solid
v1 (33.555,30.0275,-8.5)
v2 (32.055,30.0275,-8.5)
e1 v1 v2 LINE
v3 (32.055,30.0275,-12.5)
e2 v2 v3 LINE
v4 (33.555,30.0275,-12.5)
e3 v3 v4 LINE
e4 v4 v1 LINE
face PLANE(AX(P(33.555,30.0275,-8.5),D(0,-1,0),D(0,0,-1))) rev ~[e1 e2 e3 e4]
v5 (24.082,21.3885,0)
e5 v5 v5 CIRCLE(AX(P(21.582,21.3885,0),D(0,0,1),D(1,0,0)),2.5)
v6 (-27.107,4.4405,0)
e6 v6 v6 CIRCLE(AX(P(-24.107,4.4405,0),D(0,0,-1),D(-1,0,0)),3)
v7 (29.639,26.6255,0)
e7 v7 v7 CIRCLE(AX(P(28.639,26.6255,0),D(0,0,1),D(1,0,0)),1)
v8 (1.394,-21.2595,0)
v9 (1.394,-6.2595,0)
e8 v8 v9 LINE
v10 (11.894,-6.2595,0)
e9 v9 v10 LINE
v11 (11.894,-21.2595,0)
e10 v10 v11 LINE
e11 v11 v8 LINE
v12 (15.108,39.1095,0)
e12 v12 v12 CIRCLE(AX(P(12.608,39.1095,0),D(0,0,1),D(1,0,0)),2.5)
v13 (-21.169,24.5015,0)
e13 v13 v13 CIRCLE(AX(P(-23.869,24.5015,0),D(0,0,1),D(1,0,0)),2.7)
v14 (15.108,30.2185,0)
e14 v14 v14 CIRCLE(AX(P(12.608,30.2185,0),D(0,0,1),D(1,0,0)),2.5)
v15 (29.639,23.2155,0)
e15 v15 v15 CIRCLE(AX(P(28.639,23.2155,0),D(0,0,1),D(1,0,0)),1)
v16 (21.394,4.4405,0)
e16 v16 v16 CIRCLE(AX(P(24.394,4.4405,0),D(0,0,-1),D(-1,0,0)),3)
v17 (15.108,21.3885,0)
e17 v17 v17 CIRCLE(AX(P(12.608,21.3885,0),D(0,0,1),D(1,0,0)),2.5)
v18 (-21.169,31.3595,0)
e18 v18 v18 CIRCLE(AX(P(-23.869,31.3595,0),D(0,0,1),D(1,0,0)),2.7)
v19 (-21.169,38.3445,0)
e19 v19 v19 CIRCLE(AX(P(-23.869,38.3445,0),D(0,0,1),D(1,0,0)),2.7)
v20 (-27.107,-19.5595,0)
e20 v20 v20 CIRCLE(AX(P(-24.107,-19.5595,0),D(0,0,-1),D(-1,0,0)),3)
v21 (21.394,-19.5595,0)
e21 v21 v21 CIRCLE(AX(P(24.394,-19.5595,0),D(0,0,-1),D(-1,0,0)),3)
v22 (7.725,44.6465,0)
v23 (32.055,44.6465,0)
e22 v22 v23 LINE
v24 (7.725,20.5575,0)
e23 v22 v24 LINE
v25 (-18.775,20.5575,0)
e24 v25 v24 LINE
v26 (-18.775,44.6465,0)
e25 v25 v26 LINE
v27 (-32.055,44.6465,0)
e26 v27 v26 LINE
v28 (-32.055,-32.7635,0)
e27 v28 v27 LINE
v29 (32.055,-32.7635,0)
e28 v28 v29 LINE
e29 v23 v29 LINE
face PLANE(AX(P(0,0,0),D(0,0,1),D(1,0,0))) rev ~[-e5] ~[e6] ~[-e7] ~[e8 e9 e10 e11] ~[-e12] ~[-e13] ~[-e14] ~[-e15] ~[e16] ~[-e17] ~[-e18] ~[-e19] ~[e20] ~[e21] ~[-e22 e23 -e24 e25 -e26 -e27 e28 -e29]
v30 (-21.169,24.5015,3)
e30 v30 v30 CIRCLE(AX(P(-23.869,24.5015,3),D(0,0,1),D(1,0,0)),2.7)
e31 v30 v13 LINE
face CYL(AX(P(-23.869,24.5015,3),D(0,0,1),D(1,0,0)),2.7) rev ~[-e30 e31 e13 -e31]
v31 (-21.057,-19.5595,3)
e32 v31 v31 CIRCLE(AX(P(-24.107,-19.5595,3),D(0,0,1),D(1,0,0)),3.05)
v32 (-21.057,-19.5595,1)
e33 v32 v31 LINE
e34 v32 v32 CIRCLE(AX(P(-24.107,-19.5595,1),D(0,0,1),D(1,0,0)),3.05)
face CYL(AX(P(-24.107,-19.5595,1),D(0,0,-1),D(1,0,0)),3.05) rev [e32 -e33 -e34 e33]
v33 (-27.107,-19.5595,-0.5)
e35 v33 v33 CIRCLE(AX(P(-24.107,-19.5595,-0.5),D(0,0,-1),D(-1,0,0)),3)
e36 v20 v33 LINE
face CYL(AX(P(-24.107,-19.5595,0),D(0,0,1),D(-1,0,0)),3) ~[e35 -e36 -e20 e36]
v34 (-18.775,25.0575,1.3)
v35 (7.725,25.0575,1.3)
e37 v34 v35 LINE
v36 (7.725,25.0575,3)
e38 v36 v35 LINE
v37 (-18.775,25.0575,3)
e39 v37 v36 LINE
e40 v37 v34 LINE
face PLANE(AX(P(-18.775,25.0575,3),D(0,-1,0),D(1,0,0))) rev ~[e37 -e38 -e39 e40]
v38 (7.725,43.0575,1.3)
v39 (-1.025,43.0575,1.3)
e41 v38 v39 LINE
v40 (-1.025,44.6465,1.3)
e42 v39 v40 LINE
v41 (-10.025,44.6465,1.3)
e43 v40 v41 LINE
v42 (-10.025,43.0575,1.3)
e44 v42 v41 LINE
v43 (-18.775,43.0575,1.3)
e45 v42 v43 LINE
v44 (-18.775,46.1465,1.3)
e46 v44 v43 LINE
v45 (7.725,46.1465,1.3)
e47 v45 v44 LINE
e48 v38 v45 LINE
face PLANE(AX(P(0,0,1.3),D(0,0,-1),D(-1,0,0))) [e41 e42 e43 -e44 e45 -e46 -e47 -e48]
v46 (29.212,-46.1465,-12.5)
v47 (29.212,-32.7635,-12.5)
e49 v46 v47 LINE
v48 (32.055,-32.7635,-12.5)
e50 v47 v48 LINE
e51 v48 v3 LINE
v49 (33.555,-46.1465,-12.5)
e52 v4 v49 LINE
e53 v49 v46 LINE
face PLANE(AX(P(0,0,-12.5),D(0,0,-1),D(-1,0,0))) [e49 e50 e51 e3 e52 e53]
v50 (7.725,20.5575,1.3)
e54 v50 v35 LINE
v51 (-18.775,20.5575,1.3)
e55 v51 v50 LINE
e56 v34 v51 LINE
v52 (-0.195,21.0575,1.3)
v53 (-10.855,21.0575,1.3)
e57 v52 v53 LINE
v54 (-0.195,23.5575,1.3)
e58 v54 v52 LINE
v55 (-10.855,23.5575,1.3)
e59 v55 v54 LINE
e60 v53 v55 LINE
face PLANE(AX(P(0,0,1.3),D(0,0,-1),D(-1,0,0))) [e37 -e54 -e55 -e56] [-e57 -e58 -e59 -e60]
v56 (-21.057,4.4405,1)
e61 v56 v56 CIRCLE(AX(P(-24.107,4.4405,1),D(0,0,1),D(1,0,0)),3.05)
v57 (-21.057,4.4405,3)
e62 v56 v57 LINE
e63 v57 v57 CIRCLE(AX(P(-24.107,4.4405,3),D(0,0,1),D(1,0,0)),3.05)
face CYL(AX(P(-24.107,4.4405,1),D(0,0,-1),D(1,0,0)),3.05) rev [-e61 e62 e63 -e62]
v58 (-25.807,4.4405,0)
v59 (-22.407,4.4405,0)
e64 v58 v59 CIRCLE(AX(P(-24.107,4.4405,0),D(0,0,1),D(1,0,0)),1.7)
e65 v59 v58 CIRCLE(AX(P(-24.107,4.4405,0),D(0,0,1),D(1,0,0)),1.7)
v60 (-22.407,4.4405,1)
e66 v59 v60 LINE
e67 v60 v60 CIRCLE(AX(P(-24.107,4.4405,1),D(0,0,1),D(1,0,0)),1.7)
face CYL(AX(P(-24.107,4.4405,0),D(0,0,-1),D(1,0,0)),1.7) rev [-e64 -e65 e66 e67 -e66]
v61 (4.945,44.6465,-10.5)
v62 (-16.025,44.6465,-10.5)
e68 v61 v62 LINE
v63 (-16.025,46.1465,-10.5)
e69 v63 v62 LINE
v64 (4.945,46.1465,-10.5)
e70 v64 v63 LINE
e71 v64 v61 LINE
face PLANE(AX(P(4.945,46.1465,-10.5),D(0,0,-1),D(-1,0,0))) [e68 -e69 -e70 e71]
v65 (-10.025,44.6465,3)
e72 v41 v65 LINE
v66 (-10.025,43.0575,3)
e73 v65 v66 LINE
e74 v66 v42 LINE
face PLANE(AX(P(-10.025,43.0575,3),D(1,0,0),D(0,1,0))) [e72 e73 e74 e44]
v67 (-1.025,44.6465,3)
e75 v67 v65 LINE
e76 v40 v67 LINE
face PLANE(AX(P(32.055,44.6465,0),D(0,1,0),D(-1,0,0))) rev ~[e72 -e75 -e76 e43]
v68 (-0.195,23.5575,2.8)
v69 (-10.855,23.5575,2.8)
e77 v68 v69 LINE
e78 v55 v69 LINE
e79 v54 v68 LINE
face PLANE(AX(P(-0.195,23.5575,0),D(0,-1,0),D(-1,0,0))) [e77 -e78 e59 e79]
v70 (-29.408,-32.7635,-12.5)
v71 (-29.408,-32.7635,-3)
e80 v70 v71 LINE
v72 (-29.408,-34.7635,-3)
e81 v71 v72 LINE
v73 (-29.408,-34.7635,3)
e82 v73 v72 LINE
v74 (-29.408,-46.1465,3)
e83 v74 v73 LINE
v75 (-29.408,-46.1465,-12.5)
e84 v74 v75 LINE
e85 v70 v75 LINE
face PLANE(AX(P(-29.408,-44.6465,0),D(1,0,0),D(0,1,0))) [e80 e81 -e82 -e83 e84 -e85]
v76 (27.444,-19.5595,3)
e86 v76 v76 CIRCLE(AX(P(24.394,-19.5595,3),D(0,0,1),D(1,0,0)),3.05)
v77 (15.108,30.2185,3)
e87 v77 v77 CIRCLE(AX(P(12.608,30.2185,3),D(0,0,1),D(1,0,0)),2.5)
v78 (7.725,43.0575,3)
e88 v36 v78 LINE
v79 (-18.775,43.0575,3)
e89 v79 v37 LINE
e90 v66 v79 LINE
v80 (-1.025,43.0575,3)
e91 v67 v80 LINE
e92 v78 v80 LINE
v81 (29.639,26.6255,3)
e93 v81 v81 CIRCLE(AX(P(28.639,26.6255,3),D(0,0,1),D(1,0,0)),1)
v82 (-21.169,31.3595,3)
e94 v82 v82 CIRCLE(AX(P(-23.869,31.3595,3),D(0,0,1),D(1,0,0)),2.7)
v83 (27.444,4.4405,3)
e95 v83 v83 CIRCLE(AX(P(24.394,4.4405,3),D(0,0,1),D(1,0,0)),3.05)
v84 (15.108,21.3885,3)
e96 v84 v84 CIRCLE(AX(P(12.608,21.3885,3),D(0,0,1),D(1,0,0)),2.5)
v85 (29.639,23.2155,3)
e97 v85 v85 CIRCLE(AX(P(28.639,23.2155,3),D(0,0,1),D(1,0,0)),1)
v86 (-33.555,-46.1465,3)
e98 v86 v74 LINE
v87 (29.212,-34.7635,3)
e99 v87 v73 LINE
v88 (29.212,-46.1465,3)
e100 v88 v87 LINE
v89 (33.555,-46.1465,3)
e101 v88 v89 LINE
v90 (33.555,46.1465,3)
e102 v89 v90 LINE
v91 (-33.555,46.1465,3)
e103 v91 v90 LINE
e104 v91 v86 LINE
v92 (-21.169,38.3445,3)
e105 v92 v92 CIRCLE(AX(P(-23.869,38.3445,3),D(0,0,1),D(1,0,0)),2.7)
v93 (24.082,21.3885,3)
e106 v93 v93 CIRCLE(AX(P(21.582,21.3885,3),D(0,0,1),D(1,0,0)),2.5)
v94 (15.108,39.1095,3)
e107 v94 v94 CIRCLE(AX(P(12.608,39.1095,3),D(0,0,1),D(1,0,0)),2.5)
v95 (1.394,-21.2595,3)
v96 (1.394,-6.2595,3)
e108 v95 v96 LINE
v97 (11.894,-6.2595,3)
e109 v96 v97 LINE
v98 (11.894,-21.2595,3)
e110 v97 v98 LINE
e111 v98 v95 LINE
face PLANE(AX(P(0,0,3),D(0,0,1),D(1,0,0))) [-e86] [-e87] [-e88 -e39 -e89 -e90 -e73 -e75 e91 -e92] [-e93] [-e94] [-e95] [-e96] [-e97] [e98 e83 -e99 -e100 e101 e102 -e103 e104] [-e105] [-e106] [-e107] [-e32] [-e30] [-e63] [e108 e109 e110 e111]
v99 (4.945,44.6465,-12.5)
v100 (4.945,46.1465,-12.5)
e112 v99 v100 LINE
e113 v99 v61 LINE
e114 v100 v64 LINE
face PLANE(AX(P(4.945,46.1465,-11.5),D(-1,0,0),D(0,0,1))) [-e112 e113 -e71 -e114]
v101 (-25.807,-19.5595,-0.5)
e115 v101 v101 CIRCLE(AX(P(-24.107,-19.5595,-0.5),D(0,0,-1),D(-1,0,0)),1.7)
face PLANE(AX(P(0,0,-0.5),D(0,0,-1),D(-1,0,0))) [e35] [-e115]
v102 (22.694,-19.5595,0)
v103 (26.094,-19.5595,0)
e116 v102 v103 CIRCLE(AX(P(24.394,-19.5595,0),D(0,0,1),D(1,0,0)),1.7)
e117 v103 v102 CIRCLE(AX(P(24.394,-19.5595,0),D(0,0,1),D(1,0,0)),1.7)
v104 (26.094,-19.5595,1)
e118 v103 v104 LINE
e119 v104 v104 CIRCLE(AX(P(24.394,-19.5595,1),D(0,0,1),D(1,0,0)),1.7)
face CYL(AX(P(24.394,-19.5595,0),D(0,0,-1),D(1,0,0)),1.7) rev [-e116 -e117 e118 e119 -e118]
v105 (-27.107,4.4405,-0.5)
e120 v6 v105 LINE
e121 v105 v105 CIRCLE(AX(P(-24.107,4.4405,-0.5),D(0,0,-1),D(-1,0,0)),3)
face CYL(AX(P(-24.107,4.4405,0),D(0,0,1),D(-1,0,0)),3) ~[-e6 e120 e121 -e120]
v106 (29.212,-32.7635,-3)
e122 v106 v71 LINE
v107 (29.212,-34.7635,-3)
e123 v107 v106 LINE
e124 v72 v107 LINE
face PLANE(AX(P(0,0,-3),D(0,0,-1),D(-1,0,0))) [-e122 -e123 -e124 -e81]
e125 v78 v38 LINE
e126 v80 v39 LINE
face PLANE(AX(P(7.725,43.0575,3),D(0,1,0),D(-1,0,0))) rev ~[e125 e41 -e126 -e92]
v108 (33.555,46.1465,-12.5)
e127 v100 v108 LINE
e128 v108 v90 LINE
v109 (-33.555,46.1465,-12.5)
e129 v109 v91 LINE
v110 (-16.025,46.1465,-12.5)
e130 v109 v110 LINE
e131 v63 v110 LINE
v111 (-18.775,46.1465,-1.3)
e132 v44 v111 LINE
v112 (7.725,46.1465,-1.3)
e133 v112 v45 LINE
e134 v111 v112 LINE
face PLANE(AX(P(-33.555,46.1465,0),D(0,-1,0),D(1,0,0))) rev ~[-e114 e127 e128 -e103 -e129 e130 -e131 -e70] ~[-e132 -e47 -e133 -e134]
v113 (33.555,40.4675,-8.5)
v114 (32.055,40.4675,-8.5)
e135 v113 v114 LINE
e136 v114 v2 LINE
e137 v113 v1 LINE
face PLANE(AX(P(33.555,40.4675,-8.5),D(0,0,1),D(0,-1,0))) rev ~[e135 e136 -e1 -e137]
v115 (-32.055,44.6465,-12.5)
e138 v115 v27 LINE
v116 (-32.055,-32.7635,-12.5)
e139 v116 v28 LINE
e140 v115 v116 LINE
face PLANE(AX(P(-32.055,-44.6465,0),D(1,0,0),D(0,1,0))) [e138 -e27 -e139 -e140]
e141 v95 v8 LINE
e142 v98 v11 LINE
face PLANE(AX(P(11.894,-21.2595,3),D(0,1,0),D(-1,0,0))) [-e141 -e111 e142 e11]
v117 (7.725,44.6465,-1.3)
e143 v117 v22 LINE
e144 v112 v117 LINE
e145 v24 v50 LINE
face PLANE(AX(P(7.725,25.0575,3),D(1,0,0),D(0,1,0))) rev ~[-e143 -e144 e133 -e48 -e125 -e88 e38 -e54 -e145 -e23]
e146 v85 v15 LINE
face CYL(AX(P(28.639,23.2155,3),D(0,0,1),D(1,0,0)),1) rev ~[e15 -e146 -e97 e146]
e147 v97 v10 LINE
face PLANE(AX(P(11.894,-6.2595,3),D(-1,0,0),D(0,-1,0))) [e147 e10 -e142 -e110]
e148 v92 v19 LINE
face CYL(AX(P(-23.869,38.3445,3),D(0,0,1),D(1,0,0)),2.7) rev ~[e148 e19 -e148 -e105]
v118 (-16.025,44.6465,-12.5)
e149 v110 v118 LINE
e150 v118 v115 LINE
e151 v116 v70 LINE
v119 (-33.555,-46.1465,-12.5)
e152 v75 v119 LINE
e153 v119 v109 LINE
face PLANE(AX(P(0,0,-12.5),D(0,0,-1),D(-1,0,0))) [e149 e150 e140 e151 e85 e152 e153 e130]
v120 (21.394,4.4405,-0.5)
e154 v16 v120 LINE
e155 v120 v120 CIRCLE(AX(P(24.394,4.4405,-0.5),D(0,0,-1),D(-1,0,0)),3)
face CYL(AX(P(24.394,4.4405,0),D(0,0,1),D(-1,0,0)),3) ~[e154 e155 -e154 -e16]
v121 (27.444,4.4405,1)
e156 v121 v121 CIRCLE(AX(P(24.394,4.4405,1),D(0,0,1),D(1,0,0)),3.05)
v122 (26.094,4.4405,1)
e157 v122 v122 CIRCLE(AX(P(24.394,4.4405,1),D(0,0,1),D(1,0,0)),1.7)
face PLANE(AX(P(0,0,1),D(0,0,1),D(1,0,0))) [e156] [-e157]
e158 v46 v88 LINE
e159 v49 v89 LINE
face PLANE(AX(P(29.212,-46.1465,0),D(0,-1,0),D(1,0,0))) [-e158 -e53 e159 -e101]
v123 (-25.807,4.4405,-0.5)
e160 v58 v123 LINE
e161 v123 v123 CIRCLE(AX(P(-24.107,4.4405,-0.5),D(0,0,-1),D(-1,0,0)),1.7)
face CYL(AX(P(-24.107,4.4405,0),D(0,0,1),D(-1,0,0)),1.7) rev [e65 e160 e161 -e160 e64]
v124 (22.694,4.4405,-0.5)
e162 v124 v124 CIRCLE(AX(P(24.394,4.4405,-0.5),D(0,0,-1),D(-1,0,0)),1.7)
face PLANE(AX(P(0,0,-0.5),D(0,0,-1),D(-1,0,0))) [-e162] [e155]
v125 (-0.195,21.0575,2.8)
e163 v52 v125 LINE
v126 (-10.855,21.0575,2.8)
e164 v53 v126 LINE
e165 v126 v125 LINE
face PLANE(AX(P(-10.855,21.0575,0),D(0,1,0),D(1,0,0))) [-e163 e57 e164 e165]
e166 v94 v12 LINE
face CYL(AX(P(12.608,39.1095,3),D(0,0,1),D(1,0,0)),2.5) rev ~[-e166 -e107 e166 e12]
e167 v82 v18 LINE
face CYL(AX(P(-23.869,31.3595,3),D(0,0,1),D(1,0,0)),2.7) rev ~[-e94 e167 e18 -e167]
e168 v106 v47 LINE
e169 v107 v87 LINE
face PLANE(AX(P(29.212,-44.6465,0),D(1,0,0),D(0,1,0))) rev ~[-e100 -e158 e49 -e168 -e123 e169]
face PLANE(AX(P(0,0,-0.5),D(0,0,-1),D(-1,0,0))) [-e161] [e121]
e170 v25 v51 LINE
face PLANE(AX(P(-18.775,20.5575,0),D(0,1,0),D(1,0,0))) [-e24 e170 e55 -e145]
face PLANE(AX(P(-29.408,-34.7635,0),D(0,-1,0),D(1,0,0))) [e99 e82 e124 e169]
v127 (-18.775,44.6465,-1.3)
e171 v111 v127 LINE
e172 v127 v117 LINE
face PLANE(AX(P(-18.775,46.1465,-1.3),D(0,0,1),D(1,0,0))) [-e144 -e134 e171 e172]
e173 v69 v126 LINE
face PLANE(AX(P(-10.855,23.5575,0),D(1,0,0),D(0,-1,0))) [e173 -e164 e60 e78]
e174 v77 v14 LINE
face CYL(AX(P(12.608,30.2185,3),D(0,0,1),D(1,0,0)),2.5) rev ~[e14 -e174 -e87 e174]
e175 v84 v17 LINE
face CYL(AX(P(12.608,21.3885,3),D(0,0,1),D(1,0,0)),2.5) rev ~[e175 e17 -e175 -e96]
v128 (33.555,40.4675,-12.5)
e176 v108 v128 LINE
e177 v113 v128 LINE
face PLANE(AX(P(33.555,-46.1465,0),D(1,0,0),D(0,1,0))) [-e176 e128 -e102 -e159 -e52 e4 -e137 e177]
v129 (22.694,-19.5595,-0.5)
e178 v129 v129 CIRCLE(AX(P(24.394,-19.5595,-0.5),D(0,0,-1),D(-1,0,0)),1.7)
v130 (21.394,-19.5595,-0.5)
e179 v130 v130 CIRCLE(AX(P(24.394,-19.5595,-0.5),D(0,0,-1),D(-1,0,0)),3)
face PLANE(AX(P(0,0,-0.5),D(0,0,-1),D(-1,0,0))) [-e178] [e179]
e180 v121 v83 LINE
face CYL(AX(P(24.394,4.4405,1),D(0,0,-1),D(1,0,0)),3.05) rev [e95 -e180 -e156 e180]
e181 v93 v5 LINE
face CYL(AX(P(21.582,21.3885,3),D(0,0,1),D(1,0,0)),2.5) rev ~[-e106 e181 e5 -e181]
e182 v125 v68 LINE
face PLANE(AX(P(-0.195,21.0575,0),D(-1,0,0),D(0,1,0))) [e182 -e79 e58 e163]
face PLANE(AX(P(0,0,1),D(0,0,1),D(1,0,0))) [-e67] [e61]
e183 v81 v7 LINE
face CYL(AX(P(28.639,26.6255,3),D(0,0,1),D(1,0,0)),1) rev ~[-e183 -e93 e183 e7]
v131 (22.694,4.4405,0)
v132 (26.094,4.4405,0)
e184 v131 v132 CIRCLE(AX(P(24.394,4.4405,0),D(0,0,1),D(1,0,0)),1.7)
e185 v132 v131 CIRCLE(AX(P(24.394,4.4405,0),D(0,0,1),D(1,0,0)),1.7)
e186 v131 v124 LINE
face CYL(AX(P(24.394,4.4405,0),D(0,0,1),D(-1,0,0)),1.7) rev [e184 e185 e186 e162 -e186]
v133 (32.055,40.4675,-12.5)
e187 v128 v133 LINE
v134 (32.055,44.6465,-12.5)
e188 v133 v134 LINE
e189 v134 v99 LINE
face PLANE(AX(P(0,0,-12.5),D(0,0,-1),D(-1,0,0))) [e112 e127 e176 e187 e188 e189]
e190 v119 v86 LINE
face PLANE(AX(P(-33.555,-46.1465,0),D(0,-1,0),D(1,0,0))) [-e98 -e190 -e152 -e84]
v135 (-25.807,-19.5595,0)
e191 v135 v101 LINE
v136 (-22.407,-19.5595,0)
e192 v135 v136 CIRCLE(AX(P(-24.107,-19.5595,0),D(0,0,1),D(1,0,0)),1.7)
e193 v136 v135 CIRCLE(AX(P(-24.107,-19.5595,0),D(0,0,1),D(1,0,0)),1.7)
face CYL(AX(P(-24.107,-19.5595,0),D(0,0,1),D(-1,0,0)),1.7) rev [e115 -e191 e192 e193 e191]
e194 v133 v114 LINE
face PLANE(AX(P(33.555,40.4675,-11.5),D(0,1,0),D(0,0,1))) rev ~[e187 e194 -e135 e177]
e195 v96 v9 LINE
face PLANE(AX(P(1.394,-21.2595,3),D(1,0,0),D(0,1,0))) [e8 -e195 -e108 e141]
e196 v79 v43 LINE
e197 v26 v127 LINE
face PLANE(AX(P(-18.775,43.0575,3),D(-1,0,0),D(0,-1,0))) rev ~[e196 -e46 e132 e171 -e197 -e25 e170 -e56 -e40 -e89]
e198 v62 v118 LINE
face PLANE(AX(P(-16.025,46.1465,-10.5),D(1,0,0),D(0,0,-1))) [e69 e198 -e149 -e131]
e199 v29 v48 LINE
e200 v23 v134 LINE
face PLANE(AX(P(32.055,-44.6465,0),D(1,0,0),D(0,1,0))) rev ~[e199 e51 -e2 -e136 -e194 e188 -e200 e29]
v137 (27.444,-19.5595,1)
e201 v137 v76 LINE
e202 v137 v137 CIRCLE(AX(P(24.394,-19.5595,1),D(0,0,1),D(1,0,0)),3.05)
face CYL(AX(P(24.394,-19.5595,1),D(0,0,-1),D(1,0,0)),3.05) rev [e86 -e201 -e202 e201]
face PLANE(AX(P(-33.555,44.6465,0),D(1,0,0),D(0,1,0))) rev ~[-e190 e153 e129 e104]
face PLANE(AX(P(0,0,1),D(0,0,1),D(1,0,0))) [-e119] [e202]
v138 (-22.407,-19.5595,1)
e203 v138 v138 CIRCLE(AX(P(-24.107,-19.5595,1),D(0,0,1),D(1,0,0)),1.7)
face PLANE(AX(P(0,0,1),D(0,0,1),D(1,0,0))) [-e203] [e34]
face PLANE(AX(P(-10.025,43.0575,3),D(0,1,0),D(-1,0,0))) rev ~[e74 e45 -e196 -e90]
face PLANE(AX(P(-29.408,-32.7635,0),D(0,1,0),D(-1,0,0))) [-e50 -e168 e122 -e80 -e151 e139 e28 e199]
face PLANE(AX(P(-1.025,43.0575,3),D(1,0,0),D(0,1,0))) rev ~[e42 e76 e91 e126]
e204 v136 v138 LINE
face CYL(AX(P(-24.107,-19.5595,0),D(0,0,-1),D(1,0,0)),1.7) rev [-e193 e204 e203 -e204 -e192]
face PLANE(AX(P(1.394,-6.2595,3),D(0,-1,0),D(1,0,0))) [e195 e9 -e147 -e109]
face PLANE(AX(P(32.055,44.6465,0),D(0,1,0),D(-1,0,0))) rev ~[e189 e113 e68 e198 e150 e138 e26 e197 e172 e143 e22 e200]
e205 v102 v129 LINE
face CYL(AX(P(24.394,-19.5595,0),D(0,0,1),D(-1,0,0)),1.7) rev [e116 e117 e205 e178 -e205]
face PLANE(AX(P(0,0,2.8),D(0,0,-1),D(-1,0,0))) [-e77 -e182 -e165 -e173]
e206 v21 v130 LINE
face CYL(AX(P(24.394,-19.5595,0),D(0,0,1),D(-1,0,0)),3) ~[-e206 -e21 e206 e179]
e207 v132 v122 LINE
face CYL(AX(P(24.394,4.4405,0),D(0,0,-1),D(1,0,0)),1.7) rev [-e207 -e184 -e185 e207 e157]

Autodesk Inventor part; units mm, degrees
ref_plane "YZ Plane" through (0, 0, 0) normal (1, 0, 0) x (0, 1, 0)
ref_plane "XZ Plane" through (0, 0, 0) normal (0, 1, 0) x (-1, 0, 0)
ref_plane "XY Plane" through (0, 0, 0) normal (0, 0, 1) x (1, 0, 0)
sketch "草图22" plane through (0, 0, 0) normal (0, 0, 1) x (1, 0, 0)
  line L0 (32.055, -44.6465) -> (-32.055, -44.6465)
  line L1 (-32.055, -44.6465) -> (-32.055, 44.6465)
  line L2 (-32.055, 44.6465) -> (32.055, 44.6465)
  line L3 (32.055, 44.6465) -> (32.055, -44.6465)
  line L4 (32.055, -44.6465) -> (-32.055, 44.6465) construction
  line L5 (-32.055, -44.6465) -> (32.055, 44.6465) construction
  line L6 (24.394, -19.5595) -> (-24.107, -19.5595) construction
  line L7 (-24.107, -19.5595) -> (-24.107, 4.4405) construction
  line L8 (-24.107, 4.4405) -> (24.394, 4.4405) construction
  line L9 (24.394, 4.4405) -> (24.394, -19.5595) construction
  line L10 (24.394, -19.5595) -> (-24.107, 4.4405) construction
  line L11 (-24.107, -19.5595) -> (24.394, 4.4405) construction
  circle A0 centre (-24.107, 4.4405) radius 1.7
  circle A1 centre (-24.107, -19.5595) radius 1.7
  circle A2 centre (24.394, -19.5595) radius 1.7
  circle A3 centre (24.394, 4.4405) radius 1.7
  point P0 (0, 0)
  point P1 (-14.525, 44.6465)
  point P2 (3.476, 44.6465)
  point P3 (0.1435, -7.5595)
  dimension "d101" = 89.293
  dimension "d102" = 64.11
  dimension "d103" = 7.661
  dimension "d104" = 7.948
  dimension "d105" = 25.087
  dimension "d106" = 40.206
  dimension "d107" = 17.53
  dimension "d108" = 28.579
  dimension "d109" = 3.4
  dimension "d110" = 3.4
  dimension "d111" = 3.4
  dimension "d112" = 3.4
extrude "拉伸18" add sketch "草图22" along normal blind 1
sketch "草图23" plane through (0, 0, 1) normal (0, 0, 1) x (1, 0, 0)
  circle A0 centre (-24.107, 4.4405) radius 1.7 projected
  circle A1 centre (24.394, 4.4405) radius 1.7 projected
  circle A2 centre (24.394, -19.5595) radius 1.7 projected
  circle A3 centre (-24.107, -19.5595) radius 1.7 projected
  line L0 (32.055, 44.6465) -> (-32.055, 44.6465) projected
  line L1 (-32.055, -44.6465) -> (32.055, -44.6465) projected
  line L2 (-32.055, 44.6465) -> (32.055, 44.6465)
  line L3 (32.055, 44.6465) -> (32.055, -44.6465)
  line L4 (32.055, -44.6465) -> (-32.055, -44.6465)
  line L5 (-32.055, -44.6465) -> (-32.055, 44.6465)
  circle A4 centre (24.394, 4.4405) radius 3.05
  circle A5 centre (24.394, -19.5595) radius 1.7 projected
  circle A6 centre (24.394, -19.5595) radius 3.05
  circle A7 centre (-24.107, -19.5595) radius 3.05
  circle A8 centre (-24.107, 4.4405) radius 3.05
  point P0 (0, 0)
  dimension "d164" = 6.1
extrude "拉伸19" add sketch "草图23" along normal blind 2 contours L3 L1 L5 L0
sketch "草图25" plane through (0, 0, 3) normal (0, 0, 1) x (1, 0, 0)
  circle A0 centre (-23.869, 38.3445) radius 2.7
  circle A1 centre (-23.869, 31.3595) radius 2.7
  circle A2 centre (-23.869, 24.5015) radius 2.7
  line L0 (32.055, 44.6465) -> (-32.055, 44.6465) projected
  line L1 (-32.055, 44.6465) -> (-32.055, -44.6465) projected
  circle A3 centre (12.608, 39.1095) radius 2.5
  line L2 (32.055, -44.6465) -> (32.055, 44.6465) projected
  circle A4 centre (12.608, 30.2185) radius 2.5
  circle A5 centre (12.608, 21.3885) radius 2.5
  circle A6 centre (21.582, 21.3885) radius 2.5
  circle A7 centre (28.639, 26.6255) radius 1
  circle A8 centre (28.639, 23.2155) radius 1
  line L3 (7.225, 20.5575) -> (-18.275, 20.5575) construction
  line L4 (-18.275, 20.5575) -> (-18.275, 47.0575) construction
  line L5 (-18.275, 47.0575) -> (7.225, 47.0575) construction
  line L6 (7.225, 47.0575) -> (7.225, 20.5575) construction
  line L7 (-18.775, 25.0575) -> (7.725, 25.0575)
  line L8 (7.725, 25.0575) -> (7.725, 43.0575)
  line L9 (-18.775, 43.0575) -> (-18.775, 25.0575)
  line L10 (-10.025, 43.0575) -> (-10.025, 47.0575)
  line L11 (-10.025, 47.0575) -> (-5.525, 47.0575)
  line L12 (-1.025, 43.0575) -> (-1.025, 47.0575)
  line L13 (-1.025, 47.0575) -> (-5.525, 47.0575)
  line L14 (7.725, 43.0575) -> (-1.025, 43.0575)
  line L15 (-10.025, 43.0575) -> (-18.775, 43.0575)
  point P0 (0, 0)
  point P1 (-5.525, 21.0575)
  point P2 (-5.525, 20.5575)
  dimension "d123" = 5.4
  dimension "d124" = 5.4
  dimension "d125" = 5.4
  dimension "d126" = 6.302
  dimension "d127" = 8.186
  dimension "d128" = 8.186
  dimension "d129" = 8.186
  dimension "d130" = 13.287
  dimension "d131" = 20.145
  dimension "d132" = 5.537
  dimension "d133" = 19.447
  dimension "d134" = 5
  dimension "d135" = 5
  dimension "d136" = 14.428
  dimension "d137" = 19.447
  dimension "d138" = 5
  dimension "d139" = 19.447
  dimension "d140" = 23.258
  dimension "d141" = 5
  dimension "d142" = 23.258
  dimension "d143" = 10.473
  dimension "d144" = 2
  dimension "d145" = 2
  dimension "d146" = 3.416
  dimension "d147" = 3.416
  dimension "d148" = 18.021
  dimension "d149" = 3.41
  dimension "d150" = 26.53
  dimension "d151" = 23.589
  dimension "d152" = 0.5
  dimension "d153" = 26.53
  dimension "d154" = 26.5
  dimension "d155" = 25.5
  dimension "d156" = 4.5
  dimension "d158" = 0.5
  dimension "d159" = 0.5
extrude "拉伸21" cut sketch "草图25" against normal up to next
sketch "草图26" plane through (0, 0, 3) normal (0, 0, 1) x (1, 0, 0)
  circle A0 centre (-24.107, 4.4405) radius 1.7 projected
  circle A1 centre (-24.107, -19.5595) radius 1.7 projected
  circle A2 centre (24.394, 4.4405) radius 1.7 projected
  circle A3 centre (24.394, -19.5595) radius 1.7 projected
  line L0 (1.394, -6.2595) -> (11.894, -6.2595)
  line L1 (11.894, -6.2595) -> (11.894, -21.2595)
  line L2 (11.894, -21.2595) -> (1.394, -21.2595)
  line L3 (1.394, -21.2595) -> (1.394, -6.2595)
  line L4 (-24.107, -19.5595) -> (24.394, -19.5595) construction
  line L5 (32.055, -44.6465) -> (32.055, 44.6465) construction
  line L6 (24.394, -21.2595) -> (-24.107, -21.2595) construction
  point P0 (0, 0)
  dimension "d165" = 12.5
  dimension "d166" = 23
  dimension "d167" = 15
extrude "拉伸22" cut sketch "草图26" against normal through all contours L0 L1 L2 L3
sketch "草图27" plane through (0, 0, 0) normal (0, 0, -1) x (-1, 0, 0)
  line L0 (10.855, 21.0575) -> (0.195, 21.0575)
  line L1 (0.195, 21.0575) -> (0.195, 23.5575)
  line L2 (0.195, 23.5575) -> (10.855, 23.5575)
  line L3 (10.855, 23.5575) -> (10.855, 21.0575)
  line L4 (10.025, 44.6465) -> (32.055, 44.6465) projected
  line L5 (32.055, 44.6465) -> (32.055, -44.6465) projected
  point P0 (0, 0)
  dimension "d170" = 23.589
  dimension "d171" = 21.089
  dimension "d172" = 21.2
  dimension "d173" = 31.86
extrude "拉伸23" cut sketch "草图27" against normal blind 2.8
sketch "草图28" plane through (0, 0, 3) normal (0, 0, 1) x (1, 0, 0)
  line L0 (-32.055, -44.6465) -> (32.055, -44.6465) projected
  line L1 (-29.408, -44.6465) -> (29.212, -44.6465)
  line L2 (29.212, -44.6465) -> (29.212, -34.7635)
  line L3 (29.212, -34.7635) -> (-29.408, -34.7635)
  line L4 (-29.408, -34.7635) -> (-29.408, -44.6465)
  line L5 (32.055, -44.6465) -> (32.055, 44.6465) projected
  line L6 (-32.055, 44.6465) -> (-32.055, -44.6465) projected
  point P0 (0, 0)
  point P1 (29.212, -44.6465)
  dimension "d176" = 2.843
  dimension "d177" = 2.647
  dimension "d178" = 9.883
extrude "拉伸24" cut sketch "草图28" against normal through all
sketch "草图29" plane through (0, 0, 0) normal (0, 0, -1) x (-1, 0, 0)
  line L0 (29.408, -34.7635) -> (-29.212, -34.7635) projected
  line L1 (29.408, -34.7635) -> (-29.212, -34.7635)
  line L2 (-29.212, -34.7635) -> (-29.212, -32.7635)
  line L3 (-29.212, -32.7635) -> (29.408, -32.7635)
  line L4 (29.408, -32.7635) -> (29.408, -34.7635)
  point P0 (0, 0)
  point P1 (-29.212, -34.7635)
  dimension "d181" = 2
extrude "拉伸25" add sketch "草图29" along normal blind 3
sketch "草图30" plane through (0, 0, 0) normal (0, 0, -1) x (-1, 0, 0)
  line L0 (29.408, -32.7635) -> (29.408, -34.7635) projected
  line L1 (32.055, 44.6465) -> (32.055, -44.6465) projected
  line L2 (29.408, -32.7635) -> (32.055, -32.7635)
  line L3 (32.055, -32.7635) -> (32.055, -44.6465)
  line L4 (32.055, -44.6465) -> (29.408, -44.6465)
  line L5 (29.408, -44.6465) -> (29.408, -32.7635)
  line L6 (-29.212, -34.7635) -> (-29.212, -32.7635) projected
  line L7 (-32.055, -44.6465) -> (-32.055, 44.6465) projected
  line L8 (-29.212, -32.7635) -> (-32.055, -32.7635)
  line L9 (-32.055, -32.7635) -> (-32.055, -44.6465)
  line L10 (-32.055, -44.6465) -> (-29.212, -44.6465)
  line L11 (-29.212, -44.6465) -> (-29.212, -32.7635)
  point P0 (0, 0)
extrude "拉伸26" add sketch "草图30" along normal blind 11.5
sketch "草图31" plane through (0, 0, 0) normal (0, 0, -1) x (-1, 0, 0)
  line L0 (-32.055, -32.7635) -> (-32.055, 44.6465) projected
  line L1 (32.055, 44.6465) -> (32.055, -32.7635) projected
  line L2 (-33.555, 44.6465) -> (-33.555, -44.6465)
  line L3 (-32.055, -44.6465) -> (-32.055, 44.6465)
  line L4 (33.555, 44.6465) -> (33.555, -44.6465)
  line L5 (32.055, -44.6465) -> (32.055, 44.6465)
  line L6 (-32.055, 44.6465) -> (32.055, 44.6465)
  line L7 (33.555, 44.6465) -> (33.555, 46.1465)
  line L8 (33.555, 46.1465) -> (-33.555, 46.1465)
  line L9 (-33.555, 46.1465) -> (-33.555, 44.6465)
  line L10 (29.408, -44.6465) -> (32.055, -44.6465)
  line L11 (33.555, -44.6465) -> (33.555, -46.1465)
  line L12 (33.555, -46.1465) -> (29.408, -46.1465)
  line L13 (29.408, -46.1465) -> (29.408, -44.6465)
  line L14 (-32.055, -44.6465) -> (-29.212, -44.6465)
  line L15 (-29.212, -44.6465) -> (-29.212, -46.1465)
  line L16 (-29.212, -46.1465) -> (-33.555, -46.1465)
  line L17 (-33.555, -46.1465) -> (-33.555, -44.6465)
  point P0 (0, 0)
  point P1 (-32.055, 44.6465)
  point P2 (32.055, -32.7635)
  dimension "d188" = 1.5
  dimension "d202" = 1.5
extrude "拉伸27" add sketch "草图31" along normal blind 11.5 and the other way blind 3
sketch "草图32" plane through (-33.555, 46.1465, -11.5) normal (0, 1, 0) x (1, 0, 0)
  line L0 (14.78, -11.5) -> (41.28, -11.5) projected
  line L1 (41.28, -11.5) -> (14.78, -11.5)
  line L2 (14.78, -11.5) -> (14.78, -10.2)
  line L3 (14.78, -10.2) -> (41.28, -10.2)
  line L4 (41.28, -10.2) -> (41.28, -11.5)
  point P0 (33.555, -11.5)
  dimension "d193" = 1.3
extrude "拉伸28" cut sketch "草图32" against normal blind 11
sketch "草图33" plane through (-33.555, 46.1465, -11.5) normal (0, 1, 0) x (1, 0, 0)
  line L0 (65.61, 0) -> (1.5, 0) projected
  line L1 (17.53, 0) -> (38.5, 0)
  line L2 (38.5, 0) -> (38.5, -1)
  line L3 (38.5, -1) -> (17.53, -1)
  line L4 (17.53, -1) -> (17.53, 0)
  point P0 (33.555, -11.5)
  dimension "d196" = 16.03
  dimension "d197" = 37
  dimension "d198" = 1
extrude "拉伸29" cut sketch "草图33" against normal blind 11
sketch "草图34" plane through (0, 0, 0) normal (0, 0, -1) x (-1, 0, 0)
  line L0 (18.775, 44.6465) -> (32.055, 44.6465) projected
  line L1 (18.775, 21.0575) -> (18.775, 44.6465)
  line L2 (-7.725, 44.6465) -> (-7.725, 21.0575)
  line L3 (10.855, 21.0575) -> (0.195, 21.0575) projected
  line L4 (18.775, 20.5575) -> (-7.725, 20.5575)
  line L5 (-7.725, 46.1465) -> (18.775, 46.1465)
  line L6 (-7.725, 44.6465) -> (-7.725, 46.1465)
  line L7 (-7.725, 46.1465) -> (-7.725, 44.6465) projected
  line L8 (-7.725, 21.0575) -> (-7.725, 20.5575)
  line L9 (18.775, 21.0575) -> (18.775, 20.5575)
  line L10 (18.775, 44.6465) -> (18.775, 46.1465)
  line L11 (-4.945, 46.1465) -> (16.025, 46.1465) projected
  point P0 (0, 0)
extrude "拉伸30" cut sketch "草图34" against normal blind 1.3
sketch "草图35" plane through (33.555, -46.1465, -11.5) normal (1, 0, 0) x (0, 0, -1)
  line L0 (0, 90.793) -> (0, 13.383) projected
  line L1 (0, 86.614) -> (-3, 86.614)
  line L2 (-3, 86.614) -> (-3, 76.174)
  line L3 (-3, 76.174) -> (0, 76.174)
  line L4 (0, 76.174) -> (0, 86.614)
  line L5 (-11.5, 90.793) -> (0, 90.793) projected
  point P0 (-11.5, 46.1465)
  point P1 (-1.5, 86.614)
  point P2 (0, 76.174)
  point P3 (-0.0335, 85.614)
  dimension "d206" = 4.179
  dimension "d207" = 14.619
  dimension "d208" = 3
extrude "拉伸31" cut sketch "草图35" against normal up to surface (1.5 mm away)
sketch "草图37" plane through (0, 0, 0) normal (0, 0, -1) x (-1, 0, 0)
  circle A0 centre (24.107, 4.4405) radius 1.7 projected
  circle A1 centre (24.107, 4.4405) radius 3
  circle A2 centre (24.107, -19.5595) radius 1.7 projected
  circle A3 centre (24.107, -19.5595) radius 3
  circle A4 centre (-24.394, 4.4405) radius 1.7 projected
  circle A5 centre (-24.394, 4.4405) radius 3
  circle A6 centre (-24.394, -19.5595) radius 1.7 projected
  circle A7 centre (-24.394, -19.5595) radius 3
  point P0 (0, 0)
  dimension "d213" = 6
  dimension "d214" = 6
  dimension "d215" = 6
  dimension "d216" = 6
extrude "拉伸33" add sketch "草图37" along normal blind 0.5
sketch "草图38" plane through (0, 0, -11.5) normal (0, 0, -1) x (-1, 0, 0)
  line L0 (-33.555, 30.0275) -> (-33.555, -46.1465) projected
  line L1 (-33.555, -46.1465) -> (-29.212, -46.1465) projected
  line L2 (-29.212, -46.1465) -> (-29.212, -32.7635) projected
  line L3 (-29.212, -32.7635) -> (-32.055, -32.7635) projected
  line L4 (-32.055, -32.7635) -> (-32.055, 30.0275) projected
  line L5 (-32.055, 30.0275) -> (-33.555, 30.0275) projected
  line L6 (-33.555, 40.4675) -> (-32.055, 40.4675) projected
  line L7 (-32.055, 40.4675) -> (-32.055, 44.6465) projected
  line L8 (-33.555, 46.1465) -> (-33.555, 40.4675) projected
  line L9 (-33.555, 40.4675) -> (-32.055, 40.4675) projected
  line L10 (-32.055, 40.4675) -> (-32.055, 44.6465) projected
  line L11 (-32.055, 44.6465) -> (-4.945, 44.6465) projected
  line L12 (-4.945, 44.6465) -> (-4.945, 46.1465) projected
  line L13 (-4.945, 46.1465) -> (-33.555, 46.1465) projected
  line L14 (-33.555, 46.1465) -> (-33.555, 40.4675) projected
  line L15 (16.025, 46.1465) -> (16.025, 44.6465) projected
  line L16 (16.025, 44.6465) -> (32.055, 44.6465) projected
  line L17 (32.055, 44.6465) -> (32.055, -32.7635) projected
  line L18 (32.055, -32.7635) -> (29.408, -32.7635) projected
  line L19 (29.408, -32.7635) -> (29.408, -46.1465) projected
  line L20 (29.408, -46.1465) -> (33.555, -46.1465) projected
  line L21 (33.555, -46.1465) -> (33.555, 46.1465) projected
  line L22 (33.555, 46.1465) -> (16.025, 46.1465) projected
  point P0 (0, 0)
extrude "拉伸34" add sketch "草图38" along normal blind 1
properties part number "TES_Controller_V1_Case_Top"
